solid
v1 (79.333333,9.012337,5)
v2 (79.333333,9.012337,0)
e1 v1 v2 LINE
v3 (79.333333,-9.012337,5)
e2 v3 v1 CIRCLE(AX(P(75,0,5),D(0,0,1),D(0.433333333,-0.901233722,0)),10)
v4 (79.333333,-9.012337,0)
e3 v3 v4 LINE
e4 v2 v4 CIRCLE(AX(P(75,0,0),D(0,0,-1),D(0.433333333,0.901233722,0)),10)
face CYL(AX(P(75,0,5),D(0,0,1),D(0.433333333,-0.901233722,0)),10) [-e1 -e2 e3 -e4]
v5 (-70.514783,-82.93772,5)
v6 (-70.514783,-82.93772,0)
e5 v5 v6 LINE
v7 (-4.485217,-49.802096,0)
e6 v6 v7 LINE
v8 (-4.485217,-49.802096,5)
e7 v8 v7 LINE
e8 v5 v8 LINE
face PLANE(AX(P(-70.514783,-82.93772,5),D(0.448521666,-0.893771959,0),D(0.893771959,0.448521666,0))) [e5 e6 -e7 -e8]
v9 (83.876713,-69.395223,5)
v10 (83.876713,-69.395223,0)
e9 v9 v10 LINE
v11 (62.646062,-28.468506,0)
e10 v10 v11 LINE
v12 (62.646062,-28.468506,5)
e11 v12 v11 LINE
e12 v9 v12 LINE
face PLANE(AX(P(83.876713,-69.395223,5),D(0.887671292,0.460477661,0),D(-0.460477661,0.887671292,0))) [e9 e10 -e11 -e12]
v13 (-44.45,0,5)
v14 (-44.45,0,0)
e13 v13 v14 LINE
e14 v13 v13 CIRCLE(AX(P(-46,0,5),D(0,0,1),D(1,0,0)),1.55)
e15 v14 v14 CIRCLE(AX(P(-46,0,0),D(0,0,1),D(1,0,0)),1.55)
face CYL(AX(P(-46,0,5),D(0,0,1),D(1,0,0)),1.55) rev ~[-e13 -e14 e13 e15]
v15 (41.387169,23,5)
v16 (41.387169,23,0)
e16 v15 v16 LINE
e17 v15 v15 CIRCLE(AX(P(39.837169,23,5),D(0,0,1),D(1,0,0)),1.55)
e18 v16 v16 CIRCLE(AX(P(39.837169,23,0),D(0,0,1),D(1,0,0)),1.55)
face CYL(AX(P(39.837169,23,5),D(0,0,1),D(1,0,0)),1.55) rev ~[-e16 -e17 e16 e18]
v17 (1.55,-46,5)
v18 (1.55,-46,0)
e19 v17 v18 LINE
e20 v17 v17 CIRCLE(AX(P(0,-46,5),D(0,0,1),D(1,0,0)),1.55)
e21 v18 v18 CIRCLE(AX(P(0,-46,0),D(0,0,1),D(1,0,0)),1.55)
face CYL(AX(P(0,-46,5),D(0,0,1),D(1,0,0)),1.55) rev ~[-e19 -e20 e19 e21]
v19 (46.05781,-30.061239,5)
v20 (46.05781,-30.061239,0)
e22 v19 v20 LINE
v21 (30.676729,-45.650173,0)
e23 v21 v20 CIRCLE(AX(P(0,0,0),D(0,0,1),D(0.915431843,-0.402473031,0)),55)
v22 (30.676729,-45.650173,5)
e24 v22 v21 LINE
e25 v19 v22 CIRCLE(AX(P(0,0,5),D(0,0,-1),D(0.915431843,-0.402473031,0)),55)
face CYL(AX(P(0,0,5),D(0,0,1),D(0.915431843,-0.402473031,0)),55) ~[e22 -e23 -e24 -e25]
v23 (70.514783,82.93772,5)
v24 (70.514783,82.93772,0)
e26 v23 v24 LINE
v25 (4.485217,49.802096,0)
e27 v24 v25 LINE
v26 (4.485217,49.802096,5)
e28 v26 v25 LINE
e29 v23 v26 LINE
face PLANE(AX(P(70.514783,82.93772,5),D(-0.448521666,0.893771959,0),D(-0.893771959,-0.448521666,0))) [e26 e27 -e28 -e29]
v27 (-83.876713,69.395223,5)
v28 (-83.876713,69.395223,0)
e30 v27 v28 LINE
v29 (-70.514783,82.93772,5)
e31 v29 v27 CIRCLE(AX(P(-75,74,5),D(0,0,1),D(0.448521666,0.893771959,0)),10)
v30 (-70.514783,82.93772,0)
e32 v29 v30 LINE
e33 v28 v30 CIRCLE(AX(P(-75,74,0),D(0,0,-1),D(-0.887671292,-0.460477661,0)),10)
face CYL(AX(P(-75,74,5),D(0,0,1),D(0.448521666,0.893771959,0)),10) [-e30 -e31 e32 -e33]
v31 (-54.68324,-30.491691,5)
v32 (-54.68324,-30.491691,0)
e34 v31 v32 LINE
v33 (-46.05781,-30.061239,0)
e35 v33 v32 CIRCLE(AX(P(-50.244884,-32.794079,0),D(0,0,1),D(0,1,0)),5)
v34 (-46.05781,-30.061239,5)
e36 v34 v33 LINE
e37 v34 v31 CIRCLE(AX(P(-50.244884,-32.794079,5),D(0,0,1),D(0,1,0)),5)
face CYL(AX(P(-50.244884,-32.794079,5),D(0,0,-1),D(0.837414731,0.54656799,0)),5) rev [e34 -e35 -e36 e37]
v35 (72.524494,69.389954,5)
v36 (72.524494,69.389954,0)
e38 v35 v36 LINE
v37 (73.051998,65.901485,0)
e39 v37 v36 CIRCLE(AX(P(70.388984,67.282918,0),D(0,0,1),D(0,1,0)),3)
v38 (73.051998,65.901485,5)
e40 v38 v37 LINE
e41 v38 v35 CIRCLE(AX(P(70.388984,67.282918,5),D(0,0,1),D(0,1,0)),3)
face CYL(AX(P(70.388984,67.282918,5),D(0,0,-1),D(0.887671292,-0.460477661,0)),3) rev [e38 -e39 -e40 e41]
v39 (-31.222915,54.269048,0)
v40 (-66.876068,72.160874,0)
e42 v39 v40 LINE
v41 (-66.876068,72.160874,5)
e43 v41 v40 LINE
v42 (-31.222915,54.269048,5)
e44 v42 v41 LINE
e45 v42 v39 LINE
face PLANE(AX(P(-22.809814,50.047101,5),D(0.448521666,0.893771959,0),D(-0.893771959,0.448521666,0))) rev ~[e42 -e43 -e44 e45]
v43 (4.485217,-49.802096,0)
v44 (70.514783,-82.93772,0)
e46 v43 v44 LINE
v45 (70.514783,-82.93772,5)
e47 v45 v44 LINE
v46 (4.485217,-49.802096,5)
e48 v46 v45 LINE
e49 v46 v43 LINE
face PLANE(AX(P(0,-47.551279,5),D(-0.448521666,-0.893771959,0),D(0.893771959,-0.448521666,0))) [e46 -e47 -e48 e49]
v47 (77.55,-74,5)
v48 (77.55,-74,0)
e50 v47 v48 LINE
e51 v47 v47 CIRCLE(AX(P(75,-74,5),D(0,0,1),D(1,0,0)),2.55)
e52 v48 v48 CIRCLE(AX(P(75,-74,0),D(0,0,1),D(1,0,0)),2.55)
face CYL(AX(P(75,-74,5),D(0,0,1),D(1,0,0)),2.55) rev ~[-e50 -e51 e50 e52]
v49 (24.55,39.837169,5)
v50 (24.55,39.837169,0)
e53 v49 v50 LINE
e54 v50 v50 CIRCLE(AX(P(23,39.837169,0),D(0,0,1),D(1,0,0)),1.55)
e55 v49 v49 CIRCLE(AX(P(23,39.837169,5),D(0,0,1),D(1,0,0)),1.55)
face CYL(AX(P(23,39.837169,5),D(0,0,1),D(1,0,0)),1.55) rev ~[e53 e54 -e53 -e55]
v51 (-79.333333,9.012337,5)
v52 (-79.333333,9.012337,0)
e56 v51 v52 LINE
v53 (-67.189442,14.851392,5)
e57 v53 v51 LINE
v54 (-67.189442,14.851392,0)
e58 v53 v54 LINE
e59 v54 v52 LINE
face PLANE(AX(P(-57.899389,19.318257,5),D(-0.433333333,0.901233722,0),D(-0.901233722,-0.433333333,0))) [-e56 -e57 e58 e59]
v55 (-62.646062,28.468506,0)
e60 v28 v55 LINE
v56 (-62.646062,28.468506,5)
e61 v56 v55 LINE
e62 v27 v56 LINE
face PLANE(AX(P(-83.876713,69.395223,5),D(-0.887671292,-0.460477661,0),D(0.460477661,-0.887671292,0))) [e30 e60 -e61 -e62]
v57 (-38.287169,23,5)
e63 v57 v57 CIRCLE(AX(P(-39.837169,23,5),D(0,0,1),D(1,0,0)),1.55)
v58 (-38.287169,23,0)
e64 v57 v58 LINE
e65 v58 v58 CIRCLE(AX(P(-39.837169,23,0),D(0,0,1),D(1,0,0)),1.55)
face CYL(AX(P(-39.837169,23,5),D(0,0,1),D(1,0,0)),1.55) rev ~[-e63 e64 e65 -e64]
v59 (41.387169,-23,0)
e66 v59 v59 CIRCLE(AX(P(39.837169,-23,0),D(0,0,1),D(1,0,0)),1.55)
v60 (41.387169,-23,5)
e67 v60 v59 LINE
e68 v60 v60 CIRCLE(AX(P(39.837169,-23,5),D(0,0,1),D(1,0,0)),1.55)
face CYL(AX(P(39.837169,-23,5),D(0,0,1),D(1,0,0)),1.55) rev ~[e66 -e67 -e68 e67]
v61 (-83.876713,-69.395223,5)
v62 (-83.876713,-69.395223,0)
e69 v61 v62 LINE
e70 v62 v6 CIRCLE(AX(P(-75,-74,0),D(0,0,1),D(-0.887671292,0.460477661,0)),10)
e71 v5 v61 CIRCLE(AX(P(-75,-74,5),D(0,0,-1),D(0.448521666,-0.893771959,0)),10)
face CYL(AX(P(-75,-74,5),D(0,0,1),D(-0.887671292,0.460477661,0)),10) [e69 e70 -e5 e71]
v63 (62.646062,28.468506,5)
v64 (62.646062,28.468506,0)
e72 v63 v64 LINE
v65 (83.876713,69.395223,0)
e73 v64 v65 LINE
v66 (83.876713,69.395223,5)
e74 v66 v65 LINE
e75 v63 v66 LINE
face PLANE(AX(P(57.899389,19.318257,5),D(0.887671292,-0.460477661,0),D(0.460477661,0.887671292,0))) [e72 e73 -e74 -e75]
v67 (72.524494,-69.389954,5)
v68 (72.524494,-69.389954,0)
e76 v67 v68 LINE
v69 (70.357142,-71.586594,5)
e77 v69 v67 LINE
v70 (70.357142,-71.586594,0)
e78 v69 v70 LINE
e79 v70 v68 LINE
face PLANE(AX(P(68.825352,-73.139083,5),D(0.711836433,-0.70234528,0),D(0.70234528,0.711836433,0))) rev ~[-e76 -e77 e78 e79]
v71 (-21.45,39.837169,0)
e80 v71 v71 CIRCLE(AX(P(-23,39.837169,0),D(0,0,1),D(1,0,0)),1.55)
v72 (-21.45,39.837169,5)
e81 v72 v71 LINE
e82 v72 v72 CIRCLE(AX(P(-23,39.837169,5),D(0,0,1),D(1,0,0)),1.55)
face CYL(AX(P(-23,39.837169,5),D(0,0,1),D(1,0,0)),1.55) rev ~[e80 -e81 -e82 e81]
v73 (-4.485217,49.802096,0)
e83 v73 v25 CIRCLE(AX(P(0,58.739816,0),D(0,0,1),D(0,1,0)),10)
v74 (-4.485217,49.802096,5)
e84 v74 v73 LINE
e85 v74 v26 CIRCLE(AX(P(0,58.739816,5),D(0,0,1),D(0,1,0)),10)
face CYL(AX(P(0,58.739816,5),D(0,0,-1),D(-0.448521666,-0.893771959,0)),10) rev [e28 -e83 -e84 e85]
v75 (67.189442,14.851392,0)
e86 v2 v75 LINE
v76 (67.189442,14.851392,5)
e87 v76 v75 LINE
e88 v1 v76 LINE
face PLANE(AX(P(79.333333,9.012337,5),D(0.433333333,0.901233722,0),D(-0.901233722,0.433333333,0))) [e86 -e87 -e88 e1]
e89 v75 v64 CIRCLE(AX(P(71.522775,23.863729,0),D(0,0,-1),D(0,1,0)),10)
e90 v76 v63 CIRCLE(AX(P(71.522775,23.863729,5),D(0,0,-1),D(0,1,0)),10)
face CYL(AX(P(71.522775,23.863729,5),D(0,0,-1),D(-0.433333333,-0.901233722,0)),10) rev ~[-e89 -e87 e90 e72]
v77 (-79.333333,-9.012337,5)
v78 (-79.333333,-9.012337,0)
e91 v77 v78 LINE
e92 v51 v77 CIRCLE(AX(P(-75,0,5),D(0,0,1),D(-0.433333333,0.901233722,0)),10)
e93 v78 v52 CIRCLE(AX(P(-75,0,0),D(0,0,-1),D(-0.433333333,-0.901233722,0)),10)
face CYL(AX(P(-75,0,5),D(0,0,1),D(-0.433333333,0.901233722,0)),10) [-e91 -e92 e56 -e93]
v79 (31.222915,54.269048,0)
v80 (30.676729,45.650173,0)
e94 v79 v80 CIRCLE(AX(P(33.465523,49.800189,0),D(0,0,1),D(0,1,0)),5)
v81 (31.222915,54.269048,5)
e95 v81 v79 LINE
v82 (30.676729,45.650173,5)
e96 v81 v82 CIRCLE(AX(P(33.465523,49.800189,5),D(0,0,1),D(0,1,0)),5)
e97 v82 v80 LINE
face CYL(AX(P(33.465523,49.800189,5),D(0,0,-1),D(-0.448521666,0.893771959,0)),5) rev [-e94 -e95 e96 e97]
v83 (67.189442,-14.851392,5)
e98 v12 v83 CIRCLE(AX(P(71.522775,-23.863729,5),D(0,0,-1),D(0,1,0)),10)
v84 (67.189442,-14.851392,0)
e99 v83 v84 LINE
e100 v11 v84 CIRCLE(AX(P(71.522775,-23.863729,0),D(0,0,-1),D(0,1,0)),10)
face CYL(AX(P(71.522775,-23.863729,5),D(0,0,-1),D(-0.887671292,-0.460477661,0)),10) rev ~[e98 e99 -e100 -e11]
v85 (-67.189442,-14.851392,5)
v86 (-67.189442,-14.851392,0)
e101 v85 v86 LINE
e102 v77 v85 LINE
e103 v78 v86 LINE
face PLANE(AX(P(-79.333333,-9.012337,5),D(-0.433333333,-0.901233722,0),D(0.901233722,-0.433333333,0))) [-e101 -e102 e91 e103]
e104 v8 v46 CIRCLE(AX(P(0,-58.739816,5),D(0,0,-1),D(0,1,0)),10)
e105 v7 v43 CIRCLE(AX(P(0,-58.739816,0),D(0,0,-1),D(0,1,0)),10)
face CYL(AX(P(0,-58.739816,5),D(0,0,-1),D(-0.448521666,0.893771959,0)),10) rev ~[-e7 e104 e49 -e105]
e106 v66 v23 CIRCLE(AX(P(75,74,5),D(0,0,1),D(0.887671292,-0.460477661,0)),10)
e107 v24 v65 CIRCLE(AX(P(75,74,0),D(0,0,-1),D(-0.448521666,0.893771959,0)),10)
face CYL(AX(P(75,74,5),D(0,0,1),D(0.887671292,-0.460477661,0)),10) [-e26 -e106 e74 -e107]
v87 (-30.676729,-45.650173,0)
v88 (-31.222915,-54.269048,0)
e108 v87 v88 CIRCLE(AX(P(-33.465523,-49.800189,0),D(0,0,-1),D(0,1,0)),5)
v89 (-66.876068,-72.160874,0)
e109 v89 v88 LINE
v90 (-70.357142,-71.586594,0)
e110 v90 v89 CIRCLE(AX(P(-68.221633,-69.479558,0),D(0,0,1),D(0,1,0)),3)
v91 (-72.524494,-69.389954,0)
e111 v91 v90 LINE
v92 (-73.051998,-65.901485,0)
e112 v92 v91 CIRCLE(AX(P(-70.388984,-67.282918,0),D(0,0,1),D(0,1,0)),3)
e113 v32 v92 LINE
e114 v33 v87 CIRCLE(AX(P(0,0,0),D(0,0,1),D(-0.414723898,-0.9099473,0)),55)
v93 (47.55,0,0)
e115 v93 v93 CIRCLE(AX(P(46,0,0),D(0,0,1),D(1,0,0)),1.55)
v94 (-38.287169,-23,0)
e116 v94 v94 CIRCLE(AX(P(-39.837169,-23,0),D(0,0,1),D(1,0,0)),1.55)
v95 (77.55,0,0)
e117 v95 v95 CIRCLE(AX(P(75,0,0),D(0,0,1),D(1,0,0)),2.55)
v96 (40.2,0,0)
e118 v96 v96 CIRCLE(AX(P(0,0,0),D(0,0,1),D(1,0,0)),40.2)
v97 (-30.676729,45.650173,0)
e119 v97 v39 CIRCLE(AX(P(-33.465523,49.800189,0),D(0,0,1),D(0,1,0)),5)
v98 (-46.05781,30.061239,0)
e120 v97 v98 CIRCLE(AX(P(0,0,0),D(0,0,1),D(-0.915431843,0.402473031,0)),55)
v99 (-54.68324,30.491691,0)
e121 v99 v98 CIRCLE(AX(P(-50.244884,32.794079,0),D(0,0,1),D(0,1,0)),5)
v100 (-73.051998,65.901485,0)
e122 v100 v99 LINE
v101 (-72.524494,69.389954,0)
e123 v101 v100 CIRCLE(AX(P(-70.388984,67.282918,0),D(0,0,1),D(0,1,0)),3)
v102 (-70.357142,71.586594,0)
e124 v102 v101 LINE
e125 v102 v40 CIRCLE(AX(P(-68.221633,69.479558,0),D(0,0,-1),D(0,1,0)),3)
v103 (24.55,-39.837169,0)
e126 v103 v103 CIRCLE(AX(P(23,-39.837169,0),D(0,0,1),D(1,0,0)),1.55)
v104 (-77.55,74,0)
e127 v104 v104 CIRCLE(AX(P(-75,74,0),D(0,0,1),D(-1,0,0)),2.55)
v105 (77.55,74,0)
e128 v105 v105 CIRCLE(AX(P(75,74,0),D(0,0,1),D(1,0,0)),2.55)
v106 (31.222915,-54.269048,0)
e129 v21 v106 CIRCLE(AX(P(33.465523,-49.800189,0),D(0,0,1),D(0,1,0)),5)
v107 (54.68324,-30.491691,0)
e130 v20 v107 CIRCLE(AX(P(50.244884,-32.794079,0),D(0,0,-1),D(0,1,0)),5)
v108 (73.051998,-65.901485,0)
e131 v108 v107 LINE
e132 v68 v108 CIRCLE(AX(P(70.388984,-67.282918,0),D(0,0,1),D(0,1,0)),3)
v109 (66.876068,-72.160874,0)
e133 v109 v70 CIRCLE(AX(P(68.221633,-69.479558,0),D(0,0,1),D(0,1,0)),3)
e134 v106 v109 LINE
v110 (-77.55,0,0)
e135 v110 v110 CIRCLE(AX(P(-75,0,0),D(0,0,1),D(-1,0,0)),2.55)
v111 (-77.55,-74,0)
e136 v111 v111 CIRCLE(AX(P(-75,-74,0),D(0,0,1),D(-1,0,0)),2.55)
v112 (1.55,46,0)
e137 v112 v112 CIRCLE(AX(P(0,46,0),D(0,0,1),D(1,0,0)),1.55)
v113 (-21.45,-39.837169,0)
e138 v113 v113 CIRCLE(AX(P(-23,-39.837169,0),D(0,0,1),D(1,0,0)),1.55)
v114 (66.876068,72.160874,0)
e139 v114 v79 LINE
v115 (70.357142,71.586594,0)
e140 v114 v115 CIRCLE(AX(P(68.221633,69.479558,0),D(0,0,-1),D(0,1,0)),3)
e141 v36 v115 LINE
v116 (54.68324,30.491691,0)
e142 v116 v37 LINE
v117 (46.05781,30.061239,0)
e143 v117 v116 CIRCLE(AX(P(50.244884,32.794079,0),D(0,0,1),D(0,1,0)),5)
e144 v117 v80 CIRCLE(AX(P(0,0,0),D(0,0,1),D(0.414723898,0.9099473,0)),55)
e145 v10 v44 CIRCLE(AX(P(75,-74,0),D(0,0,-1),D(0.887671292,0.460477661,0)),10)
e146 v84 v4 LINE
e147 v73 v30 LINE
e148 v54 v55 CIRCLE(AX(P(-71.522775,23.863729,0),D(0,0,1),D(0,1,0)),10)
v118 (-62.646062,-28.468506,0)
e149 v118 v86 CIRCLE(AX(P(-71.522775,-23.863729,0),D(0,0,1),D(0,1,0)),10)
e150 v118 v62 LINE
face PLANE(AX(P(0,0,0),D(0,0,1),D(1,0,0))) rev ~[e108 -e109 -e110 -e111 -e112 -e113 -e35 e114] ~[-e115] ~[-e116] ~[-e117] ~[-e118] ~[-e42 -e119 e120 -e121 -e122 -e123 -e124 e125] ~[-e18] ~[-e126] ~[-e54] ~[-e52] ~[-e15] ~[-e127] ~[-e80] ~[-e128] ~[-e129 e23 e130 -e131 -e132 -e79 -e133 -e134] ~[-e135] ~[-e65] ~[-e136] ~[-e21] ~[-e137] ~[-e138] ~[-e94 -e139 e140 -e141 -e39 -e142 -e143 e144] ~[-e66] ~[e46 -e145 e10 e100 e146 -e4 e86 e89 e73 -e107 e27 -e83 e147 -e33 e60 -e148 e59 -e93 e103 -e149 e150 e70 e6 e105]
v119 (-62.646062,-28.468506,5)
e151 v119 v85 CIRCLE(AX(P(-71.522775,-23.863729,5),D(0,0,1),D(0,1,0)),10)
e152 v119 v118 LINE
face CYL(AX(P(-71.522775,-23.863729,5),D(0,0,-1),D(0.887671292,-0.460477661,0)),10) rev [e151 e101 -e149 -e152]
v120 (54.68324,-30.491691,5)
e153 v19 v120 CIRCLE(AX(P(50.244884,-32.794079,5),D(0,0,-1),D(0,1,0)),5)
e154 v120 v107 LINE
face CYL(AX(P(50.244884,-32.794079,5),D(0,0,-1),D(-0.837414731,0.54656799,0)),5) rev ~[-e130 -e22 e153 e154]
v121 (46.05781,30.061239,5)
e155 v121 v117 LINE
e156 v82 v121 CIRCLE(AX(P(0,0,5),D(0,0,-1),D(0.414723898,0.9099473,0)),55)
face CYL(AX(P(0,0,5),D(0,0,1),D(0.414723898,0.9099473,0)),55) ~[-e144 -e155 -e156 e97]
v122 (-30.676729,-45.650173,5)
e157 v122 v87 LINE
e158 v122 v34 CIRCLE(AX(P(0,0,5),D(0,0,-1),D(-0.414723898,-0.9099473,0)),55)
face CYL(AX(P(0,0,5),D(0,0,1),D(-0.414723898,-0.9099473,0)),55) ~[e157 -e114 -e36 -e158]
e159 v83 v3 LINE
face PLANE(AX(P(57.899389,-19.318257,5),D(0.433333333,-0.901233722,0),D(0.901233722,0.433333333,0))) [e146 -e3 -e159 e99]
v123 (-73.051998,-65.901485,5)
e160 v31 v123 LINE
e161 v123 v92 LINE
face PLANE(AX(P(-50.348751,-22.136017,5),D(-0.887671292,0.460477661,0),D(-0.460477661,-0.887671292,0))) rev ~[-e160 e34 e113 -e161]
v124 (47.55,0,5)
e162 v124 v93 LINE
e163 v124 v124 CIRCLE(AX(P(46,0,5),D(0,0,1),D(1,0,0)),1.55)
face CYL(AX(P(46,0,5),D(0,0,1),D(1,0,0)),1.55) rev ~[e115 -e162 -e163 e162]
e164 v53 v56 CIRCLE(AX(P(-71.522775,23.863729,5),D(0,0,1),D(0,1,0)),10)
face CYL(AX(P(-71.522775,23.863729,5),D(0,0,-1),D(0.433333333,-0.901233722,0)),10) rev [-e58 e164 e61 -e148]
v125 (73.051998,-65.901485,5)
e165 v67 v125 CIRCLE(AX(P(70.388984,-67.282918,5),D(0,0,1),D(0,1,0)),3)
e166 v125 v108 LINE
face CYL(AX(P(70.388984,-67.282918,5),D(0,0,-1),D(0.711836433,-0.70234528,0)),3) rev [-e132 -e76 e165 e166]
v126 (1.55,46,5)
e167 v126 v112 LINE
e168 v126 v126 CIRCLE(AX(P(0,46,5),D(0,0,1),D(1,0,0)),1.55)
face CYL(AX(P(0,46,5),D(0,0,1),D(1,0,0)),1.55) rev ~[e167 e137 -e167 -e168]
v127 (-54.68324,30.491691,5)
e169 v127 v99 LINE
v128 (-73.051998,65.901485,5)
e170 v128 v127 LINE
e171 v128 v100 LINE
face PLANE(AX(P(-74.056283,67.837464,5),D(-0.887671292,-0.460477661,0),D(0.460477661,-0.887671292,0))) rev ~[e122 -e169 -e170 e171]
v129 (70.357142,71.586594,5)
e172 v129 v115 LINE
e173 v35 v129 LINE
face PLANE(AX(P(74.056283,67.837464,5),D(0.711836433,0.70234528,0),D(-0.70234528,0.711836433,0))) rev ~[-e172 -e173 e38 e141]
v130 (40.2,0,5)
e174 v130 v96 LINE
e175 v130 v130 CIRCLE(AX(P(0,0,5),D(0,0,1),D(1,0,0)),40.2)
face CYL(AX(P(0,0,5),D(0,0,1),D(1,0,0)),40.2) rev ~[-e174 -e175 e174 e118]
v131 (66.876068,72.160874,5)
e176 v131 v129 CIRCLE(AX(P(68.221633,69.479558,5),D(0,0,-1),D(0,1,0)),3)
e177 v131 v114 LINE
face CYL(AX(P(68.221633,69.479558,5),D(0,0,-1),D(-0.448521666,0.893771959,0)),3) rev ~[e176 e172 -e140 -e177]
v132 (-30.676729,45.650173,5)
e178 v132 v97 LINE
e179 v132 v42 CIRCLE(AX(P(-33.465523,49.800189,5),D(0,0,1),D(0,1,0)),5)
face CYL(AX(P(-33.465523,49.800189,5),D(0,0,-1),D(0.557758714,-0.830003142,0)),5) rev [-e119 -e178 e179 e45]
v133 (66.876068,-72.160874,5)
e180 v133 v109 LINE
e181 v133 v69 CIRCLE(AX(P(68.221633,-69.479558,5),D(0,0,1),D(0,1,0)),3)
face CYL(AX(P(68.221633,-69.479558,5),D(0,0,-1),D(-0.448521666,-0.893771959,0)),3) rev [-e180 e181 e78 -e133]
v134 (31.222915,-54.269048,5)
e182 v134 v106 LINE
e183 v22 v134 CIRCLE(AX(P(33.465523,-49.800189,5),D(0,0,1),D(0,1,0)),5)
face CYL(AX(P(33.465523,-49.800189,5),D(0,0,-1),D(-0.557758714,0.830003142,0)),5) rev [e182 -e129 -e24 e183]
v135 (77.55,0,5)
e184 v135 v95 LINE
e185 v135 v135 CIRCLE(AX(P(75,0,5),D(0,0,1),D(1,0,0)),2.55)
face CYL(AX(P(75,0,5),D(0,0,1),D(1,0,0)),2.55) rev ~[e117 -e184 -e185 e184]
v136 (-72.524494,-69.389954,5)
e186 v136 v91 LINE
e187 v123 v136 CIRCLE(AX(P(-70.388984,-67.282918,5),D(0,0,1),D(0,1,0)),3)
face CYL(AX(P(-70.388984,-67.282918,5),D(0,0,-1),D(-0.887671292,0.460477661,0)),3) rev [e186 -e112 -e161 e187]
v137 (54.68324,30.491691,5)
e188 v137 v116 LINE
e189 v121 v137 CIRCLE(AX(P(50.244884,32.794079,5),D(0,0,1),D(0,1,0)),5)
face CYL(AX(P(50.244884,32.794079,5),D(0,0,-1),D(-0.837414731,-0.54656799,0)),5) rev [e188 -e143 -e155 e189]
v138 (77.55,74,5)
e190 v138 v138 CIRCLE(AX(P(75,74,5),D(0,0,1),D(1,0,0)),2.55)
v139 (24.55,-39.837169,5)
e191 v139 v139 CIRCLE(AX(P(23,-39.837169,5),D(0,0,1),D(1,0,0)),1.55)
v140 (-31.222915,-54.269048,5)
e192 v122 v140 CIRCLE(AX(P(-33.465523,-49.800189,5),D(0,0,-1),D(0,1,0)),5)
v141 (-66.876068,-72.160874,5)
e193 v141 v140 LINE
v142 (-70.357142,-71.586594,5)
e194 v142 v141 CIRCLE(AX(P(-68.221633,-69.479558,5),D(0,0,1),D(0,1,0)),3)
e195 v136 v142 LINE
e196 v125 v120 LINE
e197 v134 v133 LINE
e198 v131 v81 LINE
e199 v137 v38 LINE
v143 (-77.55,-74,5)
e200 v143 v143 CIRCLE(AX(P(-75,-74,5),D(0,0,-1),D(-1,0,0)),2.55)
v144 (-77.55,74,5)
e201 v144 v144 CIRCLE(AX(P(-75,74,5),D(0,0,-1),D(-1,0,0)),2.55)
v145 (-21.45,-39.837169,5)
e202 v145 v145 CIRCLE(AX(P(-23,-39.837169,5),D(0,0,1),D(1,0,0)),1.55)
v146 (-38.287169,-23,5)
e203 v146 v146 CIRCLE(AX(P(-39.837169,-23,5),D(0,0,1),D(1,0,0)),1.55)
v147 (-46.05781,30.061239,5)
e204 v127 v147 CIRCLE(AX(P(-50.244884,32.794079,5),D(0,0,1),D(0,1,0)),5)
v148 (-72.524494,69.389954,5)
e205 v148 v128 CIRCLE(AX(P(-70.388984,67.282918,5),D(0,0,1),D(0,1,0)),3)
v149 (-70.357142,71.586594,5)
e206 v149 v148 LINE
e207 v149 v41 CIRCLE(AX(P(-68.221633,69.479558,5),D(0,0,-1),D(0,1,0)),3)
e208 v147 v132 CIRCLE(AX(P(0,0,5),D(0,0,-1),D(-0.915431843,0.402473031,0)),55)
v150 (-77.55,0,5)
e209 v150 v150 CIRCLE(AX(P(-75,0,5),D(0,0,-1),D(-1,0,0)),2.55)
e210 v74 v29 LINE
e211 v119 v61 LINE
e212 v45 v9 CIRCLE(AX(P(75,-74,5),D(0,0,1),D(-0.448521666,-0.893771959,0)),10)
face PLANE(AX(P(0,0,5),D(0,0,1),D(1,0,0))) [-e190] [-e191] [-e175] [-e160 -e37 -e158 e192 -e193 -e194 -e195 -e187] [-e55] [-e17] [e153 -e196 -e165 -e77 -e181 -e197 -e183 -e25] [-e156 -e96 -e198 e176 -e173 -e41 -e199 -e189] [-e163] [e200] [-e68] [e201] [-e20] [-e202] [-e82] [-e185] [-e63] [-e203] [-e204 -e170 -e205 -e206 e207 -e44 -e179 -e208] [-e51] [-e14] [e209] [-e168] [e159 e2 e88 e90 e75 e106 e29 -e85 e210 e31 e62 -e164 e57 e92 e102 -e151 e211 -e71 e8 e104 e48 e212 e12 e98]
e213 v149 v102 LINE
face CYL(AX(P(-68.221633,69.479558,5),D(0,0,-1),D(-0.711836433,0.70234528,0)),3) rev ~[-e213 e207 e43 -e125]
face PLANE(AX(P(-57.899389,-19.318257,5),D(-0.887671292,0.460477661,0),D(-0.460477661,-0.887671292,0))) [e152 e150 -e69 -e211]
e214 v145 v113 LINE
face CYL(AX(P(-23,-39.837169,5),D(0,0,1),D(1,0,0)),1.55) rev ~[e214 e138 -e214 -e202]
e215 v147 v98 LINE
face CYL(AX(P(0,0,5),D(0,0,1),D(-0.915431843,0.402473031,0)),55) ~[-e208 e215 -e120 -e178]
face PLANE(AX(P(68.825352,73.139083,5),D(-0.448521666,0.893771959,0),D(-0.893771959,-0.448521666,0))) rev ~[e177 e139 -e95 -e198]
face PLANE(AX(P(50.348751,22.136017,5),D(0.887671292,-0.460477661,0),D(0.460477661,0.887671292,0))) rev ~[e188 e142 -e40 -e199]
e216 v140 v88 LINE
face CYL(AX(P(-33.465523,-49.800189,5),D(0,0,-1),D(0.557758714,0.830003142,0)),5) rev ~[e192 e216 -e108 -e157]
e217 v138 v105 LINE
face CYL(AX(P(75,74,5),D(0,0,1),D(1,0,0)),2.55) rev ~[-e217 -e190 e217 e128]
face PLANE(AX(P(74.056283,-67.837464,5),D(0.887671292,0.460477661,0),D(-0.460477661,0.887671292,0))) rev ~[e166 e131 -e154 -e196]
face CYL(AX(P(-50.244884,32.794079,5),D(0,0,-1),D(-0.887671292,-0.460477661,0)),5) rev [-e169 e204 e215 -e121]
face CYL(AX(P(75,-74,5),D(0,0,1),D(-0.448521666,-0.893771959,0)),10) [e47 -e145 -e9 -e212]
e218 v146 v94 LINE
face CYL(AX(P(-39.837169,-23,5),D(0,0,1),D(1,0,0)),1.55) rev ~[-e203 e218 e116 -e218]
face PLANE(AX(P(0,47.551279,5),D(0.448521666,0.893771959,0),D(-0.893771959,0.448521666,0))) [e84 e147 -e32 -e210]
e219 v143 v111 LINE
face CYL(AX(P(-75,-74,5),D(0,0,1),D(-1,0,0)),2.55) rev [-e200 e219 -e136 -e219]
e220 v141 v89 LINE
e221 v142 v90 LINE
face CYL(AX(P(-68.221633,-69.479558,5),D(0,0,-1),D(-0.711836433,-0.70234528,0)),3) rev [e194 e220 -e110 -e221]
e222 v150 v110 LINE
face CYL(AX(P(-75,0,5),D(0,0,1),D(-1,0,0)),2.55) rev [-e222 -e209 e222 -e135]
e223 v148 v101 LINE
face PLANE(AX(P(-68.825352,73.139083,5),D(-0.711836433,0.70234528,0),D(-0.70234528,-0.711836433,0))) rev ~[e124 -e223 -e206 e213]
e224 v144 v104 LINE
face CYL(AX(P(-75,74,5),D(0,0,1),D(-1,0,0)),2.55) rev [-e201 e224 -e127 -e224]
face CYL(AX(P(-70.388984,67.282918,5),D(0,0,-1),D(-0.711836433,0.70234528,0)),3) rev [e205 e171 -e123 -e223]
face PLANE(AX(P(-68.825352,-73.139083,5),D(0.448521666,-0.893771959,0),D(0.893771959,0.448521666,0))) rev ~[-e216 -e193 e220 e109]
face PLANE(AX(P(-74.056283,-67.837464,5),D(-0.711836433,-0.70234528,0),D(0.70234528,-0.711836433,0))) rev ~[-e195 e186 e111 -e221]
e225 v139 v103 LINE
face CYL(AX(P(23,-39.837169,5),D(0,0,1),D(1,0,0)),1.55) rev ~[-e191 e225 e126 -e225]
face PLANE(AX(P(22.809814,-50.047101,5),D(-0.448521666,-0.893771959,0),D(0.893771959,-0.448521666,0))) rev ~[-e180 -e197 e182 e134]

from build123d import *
from OCP.BRepFilletAPI import BRepFilletAPI_MakeFillet

# Parameters (mm, degrees)
SKETCH_1_W          = 170
SKETCH_1_H          = 168
EXTRUDE_1_DEPTH     = 5
SKETCH_3_R          = 40.2
CUT_EXTRUDE_1_DEPTH = 8
SKETCH_5_R          = 2.55
CUT_EXTRUDE_2_DEPTH = 8
SKETCH_7_OUTSIDE_W  = 219.812
SKETCH_7_OUTSIDE_H  = 217.812
CUT_EXTRUDE_3_DEPTH = 8
CUT_EXTRUDE_4_DEPTH = 8
FILLET_1_R          = 10
FILLET_2_R1         = 3
FILLET_2_R2         = 5
SKETCH_9_R          = 1.55
CUT_EXTRUDE_5_DEPTH = 30


with BuildPart() as part:
    # Sketch 1 → Extrude 1 (new body)
    with BuildSketch(Plane.XY):
        Rectangle(SKETCH_1_W, SKETCH_1_H)
    extrude(amount=EXTRUDE_1_DEPTH)

    # Sketch 3 → Cut-Extrude 1 (cut)
    with BuildSketch(Plane.XY.offset(5)):
        Circle(SKETCH_3_R)
    extrude(amount=-CUT_EXTRUDE_1_DEPTH, mode=Mode.SUBTRACT)

    # Sketch 5 → Cut-Extrude 2 (cut)
    with BuildSketch(Plane.XY.offset(5)):
        with Locations((75, 0)):
            Circle(SKETCH_5_R)
        with Locations((75, -74)):
            Circle(SKETCH_5_R)
        with Locations((75, 74)):
            Circle(SKETCH_5_R)
    cut_extrude_2 = extrude(amount=-CUT_EXTRUDE_2_DEPTH, mode=Mode.SUBTRACT)

    # Mirror 1: Cut-Extrude 2 across plane
    add(cut_extrude_2.mirror(Plane(origin=(0, 0, 0), x_dir=(0, 0, 1), z_dir=(1, 0, 0))), mode=Mode.SUBTRACT)

    # Sketch 7 outside → Cut-Extrude 3 (cut)
    with BuildSketch(Plane.XY.offset(5)):
        Rectangle(SKETCH_7_OUTSIDE_W, SKETCH_7_OUTSIDE_H)
        with BuildLine():
            Line((70.514783337, 82.937719591), (0, 47.551279236))
            Line((0, 47.551279236), (-70.514783337, 82.937719591))
            ThreePointArc((-70.514783337, 82.937719591), (-82.118364328, 81.023452804), (-83.876712925, 69.395223387))
            Line((-83.876712925, 69.395223387), (-57.899389351, 19.318256945))
            Line((-57.899389351, 19.318256945), (-79.333333333, 9.012337223))
            ThreePointArc((-79.333333333, 9.012337223), (-85, 0), (-79.333333333, -9.012337223))
            Line((-79.333333333, -9.012337223), (-57.899389351, -19.318256945))
            Line((-57.899389351, -19.318256945), (-83.876712925, -69.395223387))
            ThreePointArc((-83.876712925, -69.395223387), (-82.118364328, -81.023452804), (-70.514783337, -82.937719591))
            Line((-70.514783337, -82.937719591), (0, -47.551279236))
            Line((0, -47.551279236), (70.514783337, -82.937719591))
            ThreePointArc((70.514783337, -82.937719591), (82.118364328, -81.023452804), (83.876712925, -69.395223387))
            Line((83.876712925, -69.395223387), (57.899389351, -19.318256945))
            Line((57.899389351, -19.318256945), (79.333333333, -9.012337223))
            ThreePointArc((79.333333333, -9.012337223), (85, 0), (79.333333333, 9.012337223))
            Line((79.333333333, 9.012337223), (57.899389351, 19.318256945))
            Line((57.899389351, 19.318256945), (83.876712925, 69.395223387))
            ThreePointArc((83.876712925, 69.395223387), (82.118364328, 81.023452804), (70.514783337, 82.937719591))
        make_face(mode=Mode.SUBTRACT)
    extrude(amount=-CUT_EXTRUDE_3_DEPTH, mode=Mode.SUBTRACT)

    # Sketch 8 → Cut-Extrude 4 (cut)
    with BuildSketch(Plane.XY.offset(5)):
        with BuildLine():
            ThreePointArc((50.348751369, -22.136016704), (39.151003806, -38.628990422), (22.809814375, -50.047101496))
            Line((22.809814375, -50.047101496), (68.825352327, -73.139083236))
            Line((68.825352327, -73.139083236), (74.056283345, -67.837463961))
            Line((74.056283345, -67.837463961), (50.348751369, -22.136016704))
        make_face()
        with BuildLine():
            ThreePointArc((-22.809814375, -50.047101496), (-39.151003806, -38.628990422), (-50.348751369, -22.136016704))
            Line((-50.348751369, -22.136016704), (-74.056283345, -67.837463961))
            Line((-74.056283345, -67.837463961), (-68.825352327, -73.139083236))
            Line((-68.825352327, -73.139083236), (-22.809814375, -50.047101496))
        make_face()
        with BuildLine():
            Line((-68.825352327, 73.139083236), (-74.056283345, 67.837463961))
            Line((-74.056283345, 67.837463961), (-50.348751369, 22.136016704))
            ThreePointArc((-50.348751369, 22.136016704), (-39.151003806, 38.628990422), (-22.809814375, 50.047101496))
            Line((-22.809814375, 50.047101496), (-68.825352327, 73.139083236))
        make_face()
        with BuildLine():
            Line((68.825352327, 73.139083236), (22.809814375, 50.047101496))
            ThreePointArc((22.809814375, 50.047101496), (39.151003806, 38.628990422), (50.348751369, 22.136016704))
            Line((50.348751369, 22.136016704), (74.056283345, 67.837463961))
            Line((74.056283345, 67.837463961), (68.825352327, 73.139083236))
        make_face()
    extrude(amount=-CUT_EXTRUDE_4_DEPTH, mode=Mode.SUBTRACT)

    # Fillet 1
    fillet_1_edges = [part.edges().sort_by_distance(p)[0] for p in [
        (57.899389351, 19.318256945, 2.5),
        (57.899389351, -19.318256945, 2.5),
        (0, -47.551279236, 2.5),
        (-57.899389351, -19.318256945, 2.5),
        (-57.899389351, 19.318256945, 2.5),
        (0, 47.551279236, 2.5),
    ]]
    fillet(fillet_1_edges, radius=FILLET_1_R)

    # Fillet 2: one fillet with a radius per group of edges: ONE call of the kernel's fillet builder (fillet() takes one radius for all edges)
    fillet_2_edges_1 = [part.edges().sort_by_distance(p)[0] for p in [
        (-74.056283345, -67.837463961, 2.5),
        (-68.825352327, -73.139083236, 2.5),
        (68.825352327, -73.139083236, 2.5),
        (74.056283345, -67.837463961, 2.5),
        (-68.825352327, 73.139083236, 2.5),
        (-74.056283345, 67.837463961, 2.5),
        (74.056283345, 67.837463961, 2.5),
        (68.825352327, 73.139083236, 2.5),
    ]]
    fillet_2_edges_2 = [part.edges().sort_by_distance(p)[0] for p in [
        (50.348751369, -22.136016704, 2.5),
        (22.809814375, -50.047101496, 2.5),
        (-22.809814375, -50.047101496, 2.5),
        (-50.348751369, -22.136016704, 2.5),
        (-50.348751369, 22.136016704, 2.5),
        (-22.809814375, 50.047101496, 2.5),
        (22.809814375, 50.047101496, 2.5),
        (50.348751369, 22.136016704, 2.5),
    ]]
    fillet_2 = BRepFilletAPI_MakeFillet(part.part.solid().wrapped)
    for e in fillet_2_edges_1:
        fillet_2.Add(FILLET_2_R1, e.wrapped)
    for e in fillet_2_edges_2:
        fillet_2.Add(FILLET_2_R2, e.wrapped)
    add(Compound.cast(fillet_2.Shape()), mode=Mode.REPLACE)

    # Sketch 9 → Cut-Extrude 5 (cut)
    with BuildSketch(Plane.XY.offset(5)):
        with Locations((0, 46)):
            Circle(SKETCH_9_R)
        with Locations((23, 39.837168574)):
            Circle(SKETCH_9_R)
        with Locations((39.837168574, 23)):
            Circle(SKETCH_9_R)
        with Locations((46, 0)):
            Circle(SKETCH_9_R)
        with Locations((39.837168574, -23)):
            Circle(SKETCH_9_R)
        with Locations((23, -39.837168574)):
            Circle(SKETCH_9_R)
        with Locations((0, -46)):
            Circle(SKETCH_9_R)
        with Locations((-23, -39.837168574)):
            Circle(SKETCH_9_R)
        with Locations((-39.837168574, -23)):
            Circle(SKETCH_9_R)
        with Locations((-46, 0)):
            Circle(SKETCH_9_R)
        with Locations((-39.837168574, 23)):
            Circle(SKETCH_9_R)
        with Locations((-23, 39.837168574)):
            Circle(SKETCH_9_R)
    extrude(amount=-CUT_EXTRUDE_5_DEPTH, mode=Mode.SUBTRACT)


solid = part.part
